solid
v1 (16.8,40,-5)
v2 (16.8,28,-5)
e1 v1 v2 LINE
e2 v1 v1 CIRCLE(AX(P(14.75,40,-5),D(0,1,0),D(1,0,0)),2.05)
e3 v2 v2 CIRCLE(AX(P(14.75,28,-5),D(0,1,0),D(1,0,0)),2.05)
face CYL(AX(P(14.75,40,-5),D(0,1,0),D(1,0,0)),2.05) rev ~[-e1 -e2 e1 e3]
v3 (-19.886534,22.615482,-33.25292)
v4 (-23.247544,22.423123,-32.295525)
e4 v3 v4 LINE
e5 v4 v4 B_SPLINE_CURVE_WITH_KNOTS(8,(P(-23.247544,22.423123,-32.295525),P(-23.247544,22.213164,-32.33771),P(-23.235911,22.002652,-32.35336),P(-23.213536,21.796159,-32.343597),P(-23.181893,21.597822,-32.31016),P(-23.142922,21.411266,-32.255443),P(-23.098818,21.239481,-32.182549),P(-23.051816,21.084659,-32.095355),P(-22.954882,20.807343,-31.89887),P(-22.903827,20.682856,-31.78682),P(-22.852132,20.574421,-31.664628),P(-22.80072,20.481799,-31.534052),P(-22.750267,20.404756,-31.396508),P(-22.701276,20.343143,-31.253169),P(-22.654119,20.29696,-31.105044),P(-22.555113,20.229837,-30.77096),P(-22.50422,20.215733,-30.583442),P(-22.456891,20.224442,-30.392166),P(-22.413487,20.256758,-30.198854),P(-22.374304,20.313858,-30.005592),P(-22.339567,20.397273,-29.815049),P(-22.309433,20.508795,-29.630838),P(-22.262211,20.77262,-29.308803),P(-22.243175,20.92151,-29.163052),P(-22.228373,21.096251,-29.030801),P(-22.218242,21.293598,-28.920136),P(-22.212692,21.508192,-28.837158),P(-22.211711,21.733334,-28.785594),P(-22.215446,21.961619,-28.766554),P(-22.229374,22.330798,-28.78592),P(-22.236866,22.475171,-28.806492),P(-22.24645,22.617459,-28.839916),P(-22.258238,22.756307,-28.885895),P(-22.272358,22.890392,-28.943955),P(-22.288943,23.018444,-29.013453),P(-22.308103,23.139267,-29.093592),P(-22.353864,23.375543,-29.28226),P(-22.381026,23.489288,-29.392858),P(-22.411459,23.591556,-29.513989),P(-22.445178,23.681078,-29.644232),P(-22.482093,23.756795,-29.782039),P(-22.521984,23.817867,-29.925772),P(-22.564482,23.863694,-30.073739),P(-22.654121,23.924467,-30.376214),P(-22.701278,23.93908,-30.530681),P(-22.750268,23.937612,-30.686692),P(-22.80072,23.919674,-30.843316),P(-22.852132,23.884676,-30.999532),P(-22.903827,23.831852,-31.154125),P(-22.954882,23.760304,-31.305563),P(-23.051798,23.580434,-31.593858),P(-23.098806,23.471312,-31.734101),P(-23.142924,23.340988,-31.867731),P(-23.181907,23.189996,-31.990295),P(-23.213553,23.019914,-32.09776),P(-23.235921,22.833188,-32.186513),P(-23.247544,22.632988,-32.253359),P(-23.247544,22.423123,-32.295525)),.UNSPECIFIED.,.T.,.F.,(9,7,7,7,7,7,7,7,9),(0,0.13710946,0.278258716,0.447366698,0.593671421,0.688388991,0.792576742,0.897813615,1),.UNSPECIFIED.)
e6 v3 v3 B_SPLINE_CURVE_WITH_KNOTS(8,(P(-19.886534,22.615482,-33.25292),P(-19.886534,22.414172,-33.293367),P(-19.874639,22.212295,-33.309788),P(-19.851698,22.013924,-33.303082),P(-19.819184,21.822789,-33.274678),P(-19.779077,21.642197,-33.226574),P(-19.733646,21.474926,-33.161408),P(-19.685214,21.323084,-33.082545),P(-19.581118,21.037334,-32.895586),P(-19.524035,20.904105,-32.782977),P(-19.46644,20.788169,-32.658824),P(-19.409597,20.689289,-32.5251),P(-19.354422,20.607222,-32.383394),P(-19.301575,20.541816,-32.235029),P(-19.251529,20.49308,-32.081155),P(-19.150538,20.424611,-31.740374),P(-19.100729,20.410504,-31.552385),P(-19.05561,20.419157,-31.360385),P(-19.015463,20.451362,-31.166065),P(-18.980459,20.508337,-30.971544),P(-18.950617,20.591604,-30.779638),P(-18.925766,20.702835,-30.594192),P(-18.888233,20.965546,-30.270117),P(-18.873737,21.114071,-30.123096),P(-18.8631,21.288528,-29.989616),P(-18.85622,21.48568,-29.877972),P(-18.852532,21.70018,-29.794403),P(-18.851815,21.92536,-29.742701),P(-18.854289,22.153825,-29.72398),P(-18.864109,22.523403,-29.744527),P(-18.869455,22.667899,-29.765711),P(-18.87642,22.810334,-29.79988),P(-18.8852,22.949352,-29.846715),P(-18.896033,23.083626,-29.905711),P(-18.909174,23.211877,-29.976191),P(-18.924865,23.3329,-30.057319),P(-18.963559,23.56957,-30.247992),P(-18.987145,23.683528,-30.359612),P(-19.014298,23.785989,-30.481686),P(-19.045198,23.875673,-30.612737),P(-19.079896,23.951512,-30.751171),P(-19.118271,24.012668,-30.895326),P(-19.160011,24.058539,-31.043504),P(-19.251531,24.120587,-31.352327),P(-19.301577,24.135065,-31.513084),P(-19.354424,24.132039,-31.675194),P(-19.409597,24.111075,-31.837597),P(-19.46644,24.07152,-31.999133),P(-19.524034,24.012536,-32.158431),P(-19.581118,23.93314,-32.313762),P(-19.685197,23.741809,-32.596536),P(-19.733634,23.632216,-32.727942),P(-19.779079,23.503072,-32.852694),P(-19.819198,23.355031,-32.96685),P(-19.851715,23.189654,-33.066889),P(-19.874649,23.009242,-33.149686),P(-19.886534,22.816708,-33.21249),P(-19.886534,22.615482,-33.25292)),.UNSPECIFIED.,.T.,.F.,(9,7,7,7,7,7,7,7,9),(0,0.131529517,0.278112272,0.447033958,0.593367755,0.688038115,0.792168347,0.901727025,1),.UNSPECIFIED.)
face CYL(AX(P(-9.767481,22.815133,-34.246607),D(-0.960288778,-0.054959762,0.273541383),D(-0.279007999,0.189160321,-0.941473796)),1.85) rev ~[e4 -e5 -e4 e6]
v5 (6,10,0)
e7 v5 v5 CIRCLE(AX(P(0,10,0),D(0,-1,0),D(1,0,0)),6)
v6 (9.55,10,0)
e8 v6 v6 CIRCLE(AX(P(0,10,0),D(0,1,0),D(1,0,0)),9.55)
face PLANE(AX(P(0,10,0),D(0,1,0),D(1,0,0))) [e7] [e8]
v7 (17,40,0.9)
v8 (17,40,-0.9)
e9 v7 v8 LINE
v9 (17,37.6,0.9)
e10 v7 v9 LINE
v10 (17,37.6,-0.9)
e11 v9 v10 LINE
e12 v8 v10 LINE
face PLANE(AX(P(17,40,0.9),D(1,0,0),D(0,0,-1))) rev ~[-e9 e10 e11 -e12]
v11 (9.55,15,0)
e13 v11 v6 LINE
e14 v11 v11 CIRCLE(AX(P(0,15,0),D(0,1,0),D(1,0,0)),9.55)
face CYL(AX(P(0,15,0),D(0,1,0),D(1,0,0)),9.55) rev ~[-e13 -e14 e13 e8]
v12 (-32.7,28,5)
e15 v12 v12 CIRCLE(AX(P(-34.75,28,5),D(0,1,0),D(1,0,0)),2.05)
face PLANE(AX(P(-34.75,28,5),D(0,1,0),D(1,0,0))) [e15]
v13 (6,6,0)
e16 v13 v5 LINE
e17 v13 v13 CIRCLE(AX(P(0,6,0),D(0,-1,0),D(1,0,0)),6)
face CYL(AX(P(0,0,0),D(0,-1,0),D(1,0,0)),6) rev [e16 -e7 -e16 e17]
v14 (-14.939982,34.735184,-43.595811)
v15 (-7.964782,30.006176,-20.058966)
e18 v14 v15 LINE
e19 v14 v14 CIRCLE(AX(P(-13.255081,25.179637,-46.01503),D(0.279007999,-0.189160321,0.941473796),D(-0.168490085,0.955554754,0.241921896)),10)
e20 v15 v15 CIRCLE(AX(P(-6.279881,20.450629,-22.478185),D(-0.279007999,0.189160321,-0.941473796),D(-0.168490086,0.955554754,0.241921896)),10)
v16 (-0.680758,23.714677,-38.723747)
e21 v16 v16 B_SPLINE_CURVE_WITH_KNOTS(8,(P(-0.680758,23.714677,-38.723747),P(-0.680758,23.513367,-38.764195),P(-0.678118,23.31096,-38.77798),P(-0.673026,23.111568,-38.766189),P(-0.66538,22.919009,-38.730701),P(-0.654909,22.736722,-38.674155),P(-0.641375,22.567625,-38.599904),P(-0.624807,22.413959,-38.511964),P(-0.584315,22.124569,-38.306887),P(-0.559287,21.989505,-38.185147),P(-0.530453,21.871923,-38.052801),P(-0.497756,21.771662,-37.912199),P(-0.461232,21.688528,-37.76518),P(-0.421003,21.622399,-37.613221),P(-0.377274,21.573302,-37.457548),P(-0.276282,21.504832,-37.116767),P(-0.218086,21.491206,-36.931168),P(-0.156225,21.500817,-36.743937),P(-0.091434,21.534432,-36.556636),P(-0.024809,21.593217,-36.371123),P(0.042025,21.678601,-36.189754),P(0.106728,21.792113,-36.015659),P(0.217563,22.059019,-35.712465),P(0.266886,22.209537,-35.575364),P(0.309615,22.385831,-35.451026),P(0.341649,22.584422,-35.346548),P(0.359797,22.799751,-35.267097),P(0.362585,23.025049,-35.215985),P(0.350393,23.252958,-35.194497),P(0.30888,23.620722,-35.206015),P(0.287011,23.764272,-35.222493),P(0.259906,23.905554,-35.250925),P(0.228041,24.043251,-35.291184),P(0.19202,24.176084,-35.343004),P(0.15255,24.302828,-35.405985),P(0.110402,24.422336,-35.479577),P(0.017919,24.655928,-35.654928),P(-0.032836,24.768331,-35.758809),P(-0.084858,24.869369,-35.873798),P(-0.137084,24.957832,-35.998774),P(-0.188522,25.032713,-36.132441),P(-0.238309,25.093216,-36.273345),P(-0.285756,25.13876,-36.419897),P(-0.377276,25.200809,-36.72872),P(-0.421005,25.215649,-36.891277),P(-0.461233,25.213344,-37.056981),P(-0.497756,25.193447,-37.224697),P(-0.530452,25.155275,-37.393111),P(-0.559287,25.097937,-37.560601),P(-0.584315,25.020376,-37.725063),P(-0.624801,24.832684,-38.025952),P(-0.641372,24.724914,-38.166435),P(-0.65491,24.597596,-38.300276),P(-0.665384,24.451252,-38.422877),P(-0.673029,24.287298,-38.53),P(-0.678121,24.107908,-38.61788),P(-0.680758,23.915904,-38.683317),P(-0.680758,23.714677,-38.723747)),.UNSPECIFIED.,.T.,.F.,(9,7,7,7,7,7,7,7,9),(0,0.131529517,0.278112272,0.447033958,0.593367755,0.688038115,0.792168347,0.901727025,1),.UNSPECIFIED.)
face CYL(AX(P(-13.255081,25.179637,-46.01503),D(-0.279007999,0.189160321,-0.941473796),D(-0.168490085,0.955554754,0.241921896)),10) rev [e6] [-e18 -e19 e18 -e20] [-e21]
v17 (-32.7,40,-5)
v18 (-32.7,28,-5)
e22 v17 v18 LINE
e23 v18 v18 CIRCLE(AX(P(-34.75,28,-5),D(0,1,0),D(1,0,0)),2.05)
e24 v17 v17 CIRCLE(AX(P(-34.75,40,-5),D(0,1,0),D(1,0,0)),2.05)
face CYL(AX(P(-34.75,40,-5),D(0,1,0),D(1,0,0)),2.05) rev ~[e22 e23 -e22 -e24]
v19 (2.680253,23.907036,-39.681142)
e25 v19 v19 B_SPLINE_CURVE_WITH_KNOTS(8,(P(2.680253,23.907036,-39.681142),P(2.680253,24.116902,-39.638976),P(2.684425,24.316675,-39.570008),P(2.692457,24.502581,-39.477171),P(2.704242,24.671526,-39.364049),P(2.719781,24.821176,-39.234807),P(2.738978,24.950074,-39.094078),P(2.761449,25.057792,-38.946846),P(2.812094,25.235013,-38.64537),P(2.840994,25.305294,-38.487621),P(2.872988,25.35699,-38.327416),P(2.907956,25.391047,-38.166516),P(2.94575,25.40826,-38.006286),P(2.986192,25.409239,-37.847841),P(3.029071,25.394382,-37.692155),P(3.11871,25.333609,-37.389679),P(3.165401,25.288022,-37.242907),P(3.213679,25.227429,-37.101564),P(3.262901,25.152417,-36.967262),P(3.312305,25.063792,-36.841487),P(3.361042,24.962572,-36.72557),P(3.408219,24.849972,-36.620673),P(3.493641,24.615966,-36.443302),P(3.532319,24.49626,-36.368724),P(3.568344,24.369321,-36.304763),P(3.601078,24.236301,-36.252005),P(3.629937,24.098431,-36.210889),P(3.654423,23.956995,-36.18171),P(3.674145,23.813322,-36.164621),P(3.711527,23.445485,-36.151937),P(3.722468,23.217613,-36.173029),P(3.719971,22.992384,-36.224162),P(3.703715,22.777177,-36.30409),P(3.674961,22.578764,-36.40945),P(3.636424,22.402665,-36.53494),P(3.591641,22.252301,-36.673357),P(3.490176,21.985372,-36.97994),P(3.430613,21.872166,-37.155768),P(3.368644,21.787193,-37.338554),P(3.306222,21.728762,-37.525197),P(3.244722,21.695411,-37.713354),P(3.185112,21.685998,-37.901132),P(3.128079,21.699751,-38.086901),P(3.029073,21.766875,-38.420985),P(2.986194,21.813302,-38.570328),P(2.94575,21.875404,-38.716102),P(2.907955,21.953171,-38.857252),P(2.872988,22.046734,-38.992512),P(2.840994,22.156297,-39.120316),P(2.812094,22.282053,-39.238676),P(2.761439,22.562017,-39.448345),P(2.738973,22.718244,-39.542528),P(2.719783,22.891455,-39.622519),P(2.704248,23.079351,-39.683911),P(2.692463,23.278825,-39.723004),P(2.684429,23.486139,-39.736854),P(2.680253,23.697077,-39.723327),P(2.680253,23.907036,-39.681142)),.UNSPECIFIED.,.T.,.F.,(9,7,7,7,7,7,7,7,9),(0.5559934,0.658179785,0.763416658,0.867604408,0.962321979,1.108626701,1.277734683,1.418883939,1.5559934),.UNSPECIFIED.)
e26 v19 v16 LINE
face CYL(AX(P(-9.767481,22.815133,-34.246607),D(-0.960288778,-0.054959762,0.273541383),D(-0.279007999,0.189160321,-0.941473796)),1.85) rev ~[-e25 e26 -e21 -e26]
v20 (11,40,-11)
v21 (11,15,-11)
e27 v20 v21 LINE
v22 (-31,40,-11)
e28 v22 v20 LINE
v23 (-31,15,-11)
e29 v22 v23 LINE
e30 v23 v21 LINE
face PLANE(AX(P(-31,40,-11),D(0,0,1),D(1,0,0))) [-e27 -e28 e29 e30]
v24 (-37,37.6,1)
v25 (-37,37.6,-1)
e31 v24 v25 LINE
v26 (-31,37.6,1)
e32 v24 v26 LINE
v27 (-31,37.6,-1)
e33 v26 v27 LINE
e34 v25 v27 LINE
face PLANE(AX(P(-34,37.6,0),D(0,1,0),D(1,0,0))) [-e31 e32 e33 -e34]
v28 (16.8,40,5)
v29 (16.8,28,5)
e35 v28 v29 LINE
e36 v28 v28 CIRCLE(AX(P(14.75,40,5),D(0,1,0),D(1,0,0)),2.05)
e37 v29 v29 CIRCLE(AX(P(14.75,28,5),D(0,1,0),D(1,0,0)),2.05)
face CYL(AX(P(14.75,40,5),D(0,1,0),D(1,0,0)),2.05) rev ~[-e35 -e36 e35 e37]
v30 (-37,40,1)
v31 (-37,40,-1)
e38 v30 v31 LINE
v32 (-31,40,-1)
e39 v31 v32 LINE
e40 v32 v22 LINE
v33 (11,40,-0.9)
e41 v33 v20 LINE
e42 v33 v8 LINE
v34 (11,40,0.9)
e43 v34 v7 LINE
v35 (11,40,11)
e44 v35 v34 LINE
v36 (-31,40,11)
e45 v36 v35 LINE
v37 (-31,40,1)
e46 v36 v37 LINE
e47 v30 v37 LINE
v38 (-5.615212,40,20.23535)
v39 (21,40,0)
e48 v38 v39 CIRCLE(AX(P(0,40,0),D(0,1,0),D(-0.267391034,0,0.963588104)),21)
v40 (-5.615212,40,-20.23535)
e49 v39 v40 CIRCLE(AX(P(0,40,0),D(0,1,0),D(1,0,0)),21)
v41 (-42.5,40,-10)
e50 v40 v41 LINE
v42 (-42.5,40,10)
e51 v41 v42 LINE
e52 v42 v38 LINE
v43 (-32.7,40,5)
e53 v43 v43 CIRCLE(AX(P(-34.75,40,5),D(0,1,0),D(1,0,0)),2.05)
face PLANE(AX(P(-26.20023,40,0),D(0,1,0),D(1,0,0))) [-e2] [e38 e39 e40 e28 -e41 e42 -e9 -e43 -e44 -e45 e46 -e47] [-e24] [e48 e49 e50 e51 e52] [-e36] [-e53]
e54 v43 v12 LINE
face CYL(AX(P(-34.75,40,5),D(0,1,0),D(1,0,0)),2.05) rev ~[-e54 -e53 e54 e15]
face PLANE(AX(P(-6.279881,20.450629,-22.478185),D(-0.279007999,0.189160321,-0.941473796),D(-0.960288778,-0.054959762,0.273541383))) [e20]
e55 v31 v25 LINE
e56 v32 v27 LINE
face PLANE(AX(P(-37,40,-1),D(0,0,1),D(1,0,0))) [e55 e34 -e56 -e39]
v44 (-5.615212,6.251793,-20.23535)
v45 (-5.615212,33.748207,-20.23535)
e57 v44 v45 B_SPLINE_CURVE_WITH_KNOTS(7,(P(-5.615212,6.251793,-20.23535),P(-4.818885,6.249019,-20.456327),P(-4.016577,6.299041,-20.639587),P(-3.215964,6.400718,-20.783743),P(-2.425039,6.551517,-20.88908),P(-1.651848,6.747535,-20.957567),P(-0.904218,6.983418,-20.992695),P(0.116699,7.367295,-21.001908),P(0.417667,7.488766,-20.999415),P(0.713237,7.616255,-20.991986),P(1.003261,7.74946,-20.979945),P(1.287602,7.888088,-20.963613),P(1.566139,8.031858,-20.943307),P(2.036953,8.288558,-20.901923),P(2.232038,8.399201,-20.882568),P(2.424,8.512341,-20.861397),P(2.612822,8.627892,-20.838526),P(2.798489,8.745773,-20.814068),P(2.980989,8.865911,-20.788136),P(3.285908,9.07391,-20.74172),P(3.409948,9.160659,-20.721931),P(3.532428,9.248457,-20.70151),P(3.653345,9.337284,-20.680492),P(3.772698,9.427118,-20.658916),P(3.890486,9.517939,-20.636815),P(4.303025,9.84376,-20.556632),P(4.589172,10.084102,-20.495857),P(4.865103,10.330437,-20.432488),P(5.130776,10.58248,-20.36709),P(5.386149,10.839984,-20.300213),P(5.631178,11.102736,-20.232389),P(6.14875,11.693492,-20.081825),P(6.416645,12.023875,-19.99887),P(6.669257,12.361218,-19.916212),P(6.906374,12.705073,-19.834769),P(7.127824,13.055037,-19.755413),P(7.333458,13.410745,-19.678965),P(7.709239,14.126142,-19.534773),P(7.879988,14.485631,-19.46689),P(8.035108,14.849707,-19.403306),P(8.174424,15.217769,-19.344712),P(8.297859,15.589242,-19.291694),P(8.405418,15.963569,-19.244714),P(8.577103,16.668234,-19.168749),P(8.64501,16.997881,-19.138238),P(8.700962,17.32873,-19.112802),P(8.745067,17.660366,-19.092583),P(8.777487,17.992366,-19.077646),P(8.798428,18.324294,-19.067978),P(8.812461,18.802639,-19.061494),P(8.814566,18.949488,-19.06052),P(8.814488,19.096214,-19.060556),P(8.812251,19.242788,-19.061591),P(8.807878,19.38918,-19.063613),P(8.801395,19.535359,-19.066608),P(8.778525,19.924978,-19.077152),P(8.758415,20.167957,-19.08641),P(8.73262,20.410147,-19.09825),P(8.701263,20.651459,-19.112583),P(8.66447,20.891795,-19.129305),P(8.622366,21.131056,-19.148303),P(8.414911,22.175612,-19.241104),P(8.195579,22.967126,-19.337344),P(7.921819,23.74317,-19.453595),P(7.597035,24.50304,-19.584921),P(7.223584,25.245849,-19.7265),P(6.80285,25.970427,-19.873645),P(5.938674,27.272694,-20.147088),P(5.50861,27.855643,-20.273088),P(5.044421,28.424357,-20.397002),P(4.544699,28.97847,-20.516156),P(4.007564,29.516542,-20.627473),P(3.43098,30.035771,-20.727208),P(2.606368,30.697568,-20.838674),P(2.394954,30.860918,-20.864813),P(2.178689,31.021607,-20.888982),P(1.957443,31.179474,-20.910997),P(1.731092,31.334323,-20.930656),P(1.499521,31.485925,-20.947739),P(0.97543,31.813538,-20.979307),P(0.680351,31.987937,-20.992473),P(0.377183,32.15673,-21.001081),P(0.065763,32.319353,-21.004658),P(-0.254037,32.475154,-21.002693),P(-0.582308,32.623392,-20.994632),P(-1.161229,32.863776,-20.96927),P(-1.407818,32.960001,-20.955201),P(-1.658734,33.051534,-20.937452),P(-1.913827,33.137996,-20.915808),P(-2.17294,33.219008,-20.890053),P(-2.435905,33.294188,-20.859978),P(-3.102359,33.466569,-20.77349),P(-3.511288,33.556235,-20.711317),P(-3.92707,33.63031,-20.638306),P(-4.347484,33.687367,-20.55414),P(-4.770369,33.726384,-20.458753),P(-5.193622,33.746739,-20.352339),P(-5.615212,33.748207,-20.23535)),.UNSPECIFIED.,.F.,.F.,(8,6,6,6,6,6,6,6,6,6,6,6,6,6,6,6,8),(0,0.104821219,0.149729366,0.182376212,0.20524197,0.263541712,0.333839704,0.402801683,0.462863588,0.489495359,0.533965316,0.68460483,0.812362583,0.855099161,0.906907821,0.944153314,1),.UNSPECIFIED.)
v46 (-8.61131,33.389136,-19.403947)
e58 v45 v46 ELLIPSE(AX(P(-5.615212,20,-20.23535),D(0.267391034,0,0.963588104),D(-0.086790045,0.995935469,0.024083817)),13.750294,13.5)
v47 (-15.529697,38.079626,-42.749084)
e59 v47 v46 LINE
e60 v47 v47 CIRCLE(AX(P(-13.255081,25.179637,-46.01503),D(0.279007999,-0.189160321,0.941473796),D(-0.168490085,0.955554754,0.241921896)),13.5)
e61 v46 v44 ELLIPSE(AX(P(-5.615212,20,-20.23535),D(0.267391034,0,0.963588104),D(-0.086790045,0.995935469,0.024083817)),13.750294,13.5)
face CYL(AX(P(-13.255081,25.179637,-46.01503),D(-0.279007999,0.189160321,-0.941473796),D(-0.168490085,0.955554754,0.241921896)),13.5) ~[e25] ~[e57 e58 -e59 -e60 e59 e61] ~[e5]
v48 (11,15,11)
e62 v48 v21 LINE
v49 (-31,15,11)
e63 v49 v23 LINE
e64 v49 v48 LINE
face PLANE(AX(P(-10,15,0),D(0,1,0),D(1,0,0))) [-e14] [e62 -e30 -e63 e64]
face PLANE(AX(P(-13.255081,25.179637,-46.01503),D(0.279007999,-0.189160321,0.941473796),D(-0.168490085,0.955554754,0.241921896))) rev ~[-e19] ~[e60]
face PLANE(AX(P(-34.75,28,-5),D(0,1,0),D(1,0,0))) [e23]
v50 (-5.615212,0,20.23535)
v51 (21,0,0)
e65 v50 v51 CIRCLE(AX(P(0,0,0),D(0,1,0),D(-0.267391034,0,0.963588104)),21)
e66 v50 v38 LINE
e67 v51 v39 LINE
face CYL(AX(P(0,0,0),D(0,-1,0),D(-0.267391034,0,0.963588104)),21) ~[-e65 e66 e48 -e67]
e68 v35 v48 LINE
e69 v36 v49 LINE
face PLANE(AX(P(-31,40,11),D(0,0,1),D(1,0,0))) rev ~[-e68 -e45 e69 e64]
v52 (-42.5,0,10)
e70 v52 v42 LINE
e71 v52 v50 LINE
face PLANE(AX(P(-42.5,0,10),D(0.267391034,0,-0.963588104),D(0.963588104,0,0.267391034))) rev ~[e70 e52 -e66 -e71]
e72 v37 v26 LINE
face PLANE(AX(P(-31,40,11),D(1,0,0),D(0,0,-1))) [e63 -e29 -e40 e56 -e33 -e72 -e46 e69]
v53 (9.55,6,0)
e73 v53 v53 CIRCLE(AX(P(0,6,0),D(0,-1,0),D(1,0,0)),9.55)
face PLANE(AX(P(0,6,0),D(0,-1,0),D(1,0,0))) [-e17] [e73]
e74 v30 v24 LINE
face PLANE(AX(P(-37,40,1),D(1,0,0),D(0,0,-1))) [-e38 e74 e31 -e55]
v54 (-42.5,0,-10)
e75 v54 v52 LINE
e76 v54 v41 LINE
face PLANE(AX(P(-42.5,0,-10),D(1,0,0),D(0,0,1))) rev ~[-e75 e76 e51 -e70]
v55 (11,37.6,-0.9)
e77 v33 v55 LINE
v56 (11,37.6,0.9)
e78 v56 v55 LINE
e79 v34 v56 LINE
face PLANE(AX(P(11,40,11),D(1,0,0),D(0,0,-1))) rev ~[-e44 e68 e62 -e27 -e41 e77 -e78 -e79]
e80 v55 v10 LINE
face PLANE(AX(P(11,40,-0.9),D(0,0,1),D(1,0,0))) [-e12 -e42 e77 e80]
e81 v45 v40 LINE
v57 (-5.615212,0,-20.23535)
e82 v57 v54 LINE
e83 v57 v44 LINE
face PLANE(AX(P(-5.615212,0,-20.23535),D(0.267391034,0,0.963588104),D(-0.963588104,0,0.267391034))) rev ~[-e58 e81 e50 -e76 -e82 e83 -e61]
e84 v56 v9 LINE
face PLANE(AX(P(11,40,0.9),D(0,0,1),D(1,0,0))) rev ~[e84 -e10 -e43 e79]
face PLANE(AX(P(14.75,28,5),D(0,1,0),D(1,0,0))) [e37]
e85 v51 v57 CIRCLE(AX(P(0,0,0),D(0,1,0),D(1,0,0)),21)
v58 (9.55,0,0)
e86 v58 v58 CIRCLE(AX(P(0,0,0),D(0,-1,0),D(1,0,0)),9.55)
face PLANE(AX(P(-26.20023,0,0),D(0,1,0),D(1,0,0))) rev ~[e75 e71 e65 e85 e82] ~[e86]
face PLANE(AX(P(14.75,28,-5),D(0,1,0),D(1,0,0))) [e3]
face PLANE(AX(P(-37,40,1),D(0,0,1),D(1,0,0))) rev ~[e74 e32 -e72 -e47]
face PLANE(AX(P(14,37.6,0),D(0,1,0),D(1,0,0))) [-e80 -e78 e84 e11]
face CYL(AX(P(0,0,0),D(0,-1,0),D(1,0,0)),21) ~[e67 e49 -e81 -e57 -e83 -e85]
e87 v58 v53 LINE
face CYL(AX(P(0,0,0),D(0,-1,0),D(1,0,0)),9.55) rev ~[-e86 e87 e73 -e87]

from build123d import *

# Parameters (mm, degrees)
SKETCH1_W           = 7.25
SKETCH1_H           = 20
SKETCH1_R           = 6
BOSS_EXTRUDE1_DEPTH = 40
SKETCH2_W           = 42
SKETCH2_H           = 22
CUT_EXTRUDE1_DEPTH  = 25
SKETCH3_R           = 2.05
CUT_EXTRUDE2_DEPTH  = 12
SKETCH4_R           = 9.55
CUT_EXTRUDE3_DEPTH  = 5
SKETCH5_R           = 9.55
CUT_EXTRUDE4_DEPTH  = 6
SKETCH7_W           = 6
SKETCH7_H           = 2
SKETCH7_H_2         = 1.8
CUT_EXTRUDE5_DEPTH  = 2.4
BOSS_EXTRUDE3_REACH = 79.413
SKETCH10_R          = 13.5
SKETCH10_R_2        = 10
BOSS_EXTRUDE4_REACH = 54.413
SKETCH11_R          = 10
SKETCH15_R          = 1.85
CUT_EXTRUDE8_DEPTH  = 13.5


with BuildPart() as part:
    # Sketch1 → Boss-Extrude1 (new body)
    with BuildSketch(Plane(origin=(0, 0, 0), x_dir=(1, 0, 0), z_dir=(0, 1, 0))):
        with BuildLine():
            Line((-30.25, -10), (-37.5, -10))
            Line((-37.5, -10), (-37.5, 10))
            Line((-37.5, 10), (-30.25, 10))
            Line((-30.25, 10), (-18.466185313, 10))
            ThreePointArc((-18.466185313, 10), (-13.083157843, 16.426532831), (-5.61521172, 20.235350191))
            Line((-5.61521172, 20.235350191), (-42.5, 10))
            Line((-42.5, 10), (-42.5, -10))
            Line((-42.5, -10), (-5.61521172, -20.235350191))
            ThreePointArc((-5.61521172, -20.235350191), (-13.083157843, -16.426532831), (-18.466185313, -10))
            Line((-18.466185313, -10), (-30.25, -10))
        make_face()
        with Locations((-33.875, 0)):
            Rectangle(SKETCH1_W, SKETCH1_H)
        with BuildLine():
            ThreePointArc((-18.466185313, 10), (-21, 0), (-18.466185313, -10))
            Line((-18.466185313, -10), (9.75, -10))
            Line((9.75, -10), (9.75, 10))
            Line((9.75, 10), (-18.466185313, 10))
        make_face()
        Circle(SKETCH1_R, mode=Mode.SUBTRACT)
        with BuildLine():
            Line((-30.25, 10), (-30.25, -10))
            Line((-30.25, -10), (-18.466185313, -10))
            ThreePointArc((-18.466185313, -10), (-21, 0), (-18.466185313, 10))
            Line((-18.466185313, 10), (-30.25, 10))
        make_face()
        with BuildLine():
            Line((9.75, -10), (-18.466185313, -10))
            ThreePointArc((-18.466185313, -10), (-13.083157843, -16.426532831), (-5.61521172, -20.235350191))
            ThreePointArc((-5.61521172, -20.235350191), (12.709849603, -16.717048874), (21, 0))
            ThreePointArc((21, 0), (12.709849603, 16.717048874), (-5.61521172, 20.235350191))
            ThreePointArc((-5.61521172, 20.235350191), (-13.083157843, 16.426532831), (-18.466185313, 10))
            Line((-18.466185313, 10), (9.75, 10))
            Line((9.75, 10), (17, 10))
            Line((17, 10), (17, -10))
            Line((17, -10), (9.75, -10))
        make_face()
        with Locations((13.375, 0)):
            Rectangle(SKETCH1_W, SKETCH1_H)
    extrude(amount=BOSS_EXTRUDE1_DEPTH)

    # Sketch2 → Cut-Extrude1 (cut)
    with BuildSketch(Plane(origin=(0, 40, 0), x_dir=(1, 0, 0), z_dir=(0, 1, 0))):
        with Locations((-10, 0)):
            Rectangle(SKETCH2_W, SKETCH2_H)
    extrude(amount=-CUT_EXTRUDE1_DEPTH, mode=Mode.SUBTRACT)

    # Sketch3 → Cut-Extrude2 (cut)
    with BuildSketch(Plane(origin=(0, 40, 0), x_dir=(1, 0, 0), z_dir=(0, 1, 0))):
        with Locations((14.75, 5)):
            Circle(SKETCH3_R)
        with Locations((14.75, -5)):
            Circle(SKETCH3_R)
        with Locations((-34.75, 5)):
            Circle(SKETCH3_R)
        with Locations((-34.75, -5)):
            Circle(SKETCH3_R)
    extrude(amount=-CUT_EXTRUDE2_DEPTH, mode=Mode.SUBTRACT)

    # Sketch4 → Cut-Extrude3 (cut)
    with BuildSketch(Plane(origin=(0, 15, 0), x_dir=(1, 0, 0), z_dir=(0, 1, 0))):
        Circle(SKETCH4_R)
    extrude(amount=-CUT_EXTRUDE3_DEPTH, mode=Mode.SUBTRACT)

    # Sketch5 → Cut-Extrude4 (cut)
    with BuildSketch(Plane.XZ):
        Circle(SKETCH5_R)
    extrude(amount=-CUT_EXTRUDE4_DEPTH, mode=Mode.SUBTRACT)

    # Sketch7 → Cut-Extrude5 (cut)
    with BuildSketch(Plane(origin=(0, 40, 0), x_dir=(1, 0, 0), z_dir=(0, 1, 0))):
        with Locations((-34, 0)):
            Rectangle(SKETCH7_W, SKETCH7_H)
        with Locations((14, 0)):
            Rectangle(SKETCH7_W, SKETCH7_H_2)
    extrude(amount=-CUT_EXTRUDE5_DEPTH, mode=Mode.SUBTRACT)

    # Sketch10 → Boss-Extrude3 (add, up to next)
    with BuildSketch(Plane(origin=(-14.44792881, 9.795327955, -48.752531942), x_dir=(-0.168490085, 0.955554754, 0.241921896), z_dir=(0.279007999, -0.189160321, 0.941473796)), mode=Mode.PRIVATE) as boss_extrude3_sk1:
        with Locations((15.161828301, -3.96392858)):
            Circle(SKETCH10_R)
        with Locations((15.161828301, -3.96392858)):
            Circle(SKETCH10_R_2, mode=Mode.SUBTRACT)
    boss_extrude3_tool1 = extrude(boss_extrude3_sk1.sketch, amount=BOSS_EXTRUDE3_REACH, mode=Mode.PRIVATE) - part.part
    add(boss_extrude3_tool1.solids().sort_by_distance((-11.044801, 12.644515, -49.1886))[0])

    # Sketch11 → Boss-Extrude4 (add, up to next)
    with BuildSketch(Plane(origin=(-7.472728833, 5.066319927, -25.215687031), x_dir=(-0.960288778, -0.054959762, 0.273541383), z_dir=(-0.279007999, 0.189160321, -0.941473796)), mode=Mode.PRIVATE) as boss_extrude4_sk1:
        with Locations((-1.242176115, 15.622124238)):
            Circle(SKETCH11_R)
    boss_extrude4_tool1 = extrude(boss_extrude4_sk1.sketch, amount=-BOSS_EXTRUDE4_REACH, mode=Mode.PRIVATE) - part.part
    add(boss_extrude4_tool1.solids().sort_by_distance((-6.279881, 20.450629, -22.478185))[0])

    # Sketch15 → Cut-Extrude8 (cut, symmetric)
    with BuildSketch(Plane(origin=(1.192847783, 0.068269704, -0.339786572), x_dir=(-0.279007999, 0.189160321, -0.941473796), z_dir=(-0.960288778, -0.054959762, 0.273541383))):
        with Locations((39.283206422, -15.622124238)):
            Circle(SKETCH15_R)
    extrude(amount=CUT_EXTRUDE8_DEPTH, both=True, mode=Mode.SUBTRACT)


solid = part.part
